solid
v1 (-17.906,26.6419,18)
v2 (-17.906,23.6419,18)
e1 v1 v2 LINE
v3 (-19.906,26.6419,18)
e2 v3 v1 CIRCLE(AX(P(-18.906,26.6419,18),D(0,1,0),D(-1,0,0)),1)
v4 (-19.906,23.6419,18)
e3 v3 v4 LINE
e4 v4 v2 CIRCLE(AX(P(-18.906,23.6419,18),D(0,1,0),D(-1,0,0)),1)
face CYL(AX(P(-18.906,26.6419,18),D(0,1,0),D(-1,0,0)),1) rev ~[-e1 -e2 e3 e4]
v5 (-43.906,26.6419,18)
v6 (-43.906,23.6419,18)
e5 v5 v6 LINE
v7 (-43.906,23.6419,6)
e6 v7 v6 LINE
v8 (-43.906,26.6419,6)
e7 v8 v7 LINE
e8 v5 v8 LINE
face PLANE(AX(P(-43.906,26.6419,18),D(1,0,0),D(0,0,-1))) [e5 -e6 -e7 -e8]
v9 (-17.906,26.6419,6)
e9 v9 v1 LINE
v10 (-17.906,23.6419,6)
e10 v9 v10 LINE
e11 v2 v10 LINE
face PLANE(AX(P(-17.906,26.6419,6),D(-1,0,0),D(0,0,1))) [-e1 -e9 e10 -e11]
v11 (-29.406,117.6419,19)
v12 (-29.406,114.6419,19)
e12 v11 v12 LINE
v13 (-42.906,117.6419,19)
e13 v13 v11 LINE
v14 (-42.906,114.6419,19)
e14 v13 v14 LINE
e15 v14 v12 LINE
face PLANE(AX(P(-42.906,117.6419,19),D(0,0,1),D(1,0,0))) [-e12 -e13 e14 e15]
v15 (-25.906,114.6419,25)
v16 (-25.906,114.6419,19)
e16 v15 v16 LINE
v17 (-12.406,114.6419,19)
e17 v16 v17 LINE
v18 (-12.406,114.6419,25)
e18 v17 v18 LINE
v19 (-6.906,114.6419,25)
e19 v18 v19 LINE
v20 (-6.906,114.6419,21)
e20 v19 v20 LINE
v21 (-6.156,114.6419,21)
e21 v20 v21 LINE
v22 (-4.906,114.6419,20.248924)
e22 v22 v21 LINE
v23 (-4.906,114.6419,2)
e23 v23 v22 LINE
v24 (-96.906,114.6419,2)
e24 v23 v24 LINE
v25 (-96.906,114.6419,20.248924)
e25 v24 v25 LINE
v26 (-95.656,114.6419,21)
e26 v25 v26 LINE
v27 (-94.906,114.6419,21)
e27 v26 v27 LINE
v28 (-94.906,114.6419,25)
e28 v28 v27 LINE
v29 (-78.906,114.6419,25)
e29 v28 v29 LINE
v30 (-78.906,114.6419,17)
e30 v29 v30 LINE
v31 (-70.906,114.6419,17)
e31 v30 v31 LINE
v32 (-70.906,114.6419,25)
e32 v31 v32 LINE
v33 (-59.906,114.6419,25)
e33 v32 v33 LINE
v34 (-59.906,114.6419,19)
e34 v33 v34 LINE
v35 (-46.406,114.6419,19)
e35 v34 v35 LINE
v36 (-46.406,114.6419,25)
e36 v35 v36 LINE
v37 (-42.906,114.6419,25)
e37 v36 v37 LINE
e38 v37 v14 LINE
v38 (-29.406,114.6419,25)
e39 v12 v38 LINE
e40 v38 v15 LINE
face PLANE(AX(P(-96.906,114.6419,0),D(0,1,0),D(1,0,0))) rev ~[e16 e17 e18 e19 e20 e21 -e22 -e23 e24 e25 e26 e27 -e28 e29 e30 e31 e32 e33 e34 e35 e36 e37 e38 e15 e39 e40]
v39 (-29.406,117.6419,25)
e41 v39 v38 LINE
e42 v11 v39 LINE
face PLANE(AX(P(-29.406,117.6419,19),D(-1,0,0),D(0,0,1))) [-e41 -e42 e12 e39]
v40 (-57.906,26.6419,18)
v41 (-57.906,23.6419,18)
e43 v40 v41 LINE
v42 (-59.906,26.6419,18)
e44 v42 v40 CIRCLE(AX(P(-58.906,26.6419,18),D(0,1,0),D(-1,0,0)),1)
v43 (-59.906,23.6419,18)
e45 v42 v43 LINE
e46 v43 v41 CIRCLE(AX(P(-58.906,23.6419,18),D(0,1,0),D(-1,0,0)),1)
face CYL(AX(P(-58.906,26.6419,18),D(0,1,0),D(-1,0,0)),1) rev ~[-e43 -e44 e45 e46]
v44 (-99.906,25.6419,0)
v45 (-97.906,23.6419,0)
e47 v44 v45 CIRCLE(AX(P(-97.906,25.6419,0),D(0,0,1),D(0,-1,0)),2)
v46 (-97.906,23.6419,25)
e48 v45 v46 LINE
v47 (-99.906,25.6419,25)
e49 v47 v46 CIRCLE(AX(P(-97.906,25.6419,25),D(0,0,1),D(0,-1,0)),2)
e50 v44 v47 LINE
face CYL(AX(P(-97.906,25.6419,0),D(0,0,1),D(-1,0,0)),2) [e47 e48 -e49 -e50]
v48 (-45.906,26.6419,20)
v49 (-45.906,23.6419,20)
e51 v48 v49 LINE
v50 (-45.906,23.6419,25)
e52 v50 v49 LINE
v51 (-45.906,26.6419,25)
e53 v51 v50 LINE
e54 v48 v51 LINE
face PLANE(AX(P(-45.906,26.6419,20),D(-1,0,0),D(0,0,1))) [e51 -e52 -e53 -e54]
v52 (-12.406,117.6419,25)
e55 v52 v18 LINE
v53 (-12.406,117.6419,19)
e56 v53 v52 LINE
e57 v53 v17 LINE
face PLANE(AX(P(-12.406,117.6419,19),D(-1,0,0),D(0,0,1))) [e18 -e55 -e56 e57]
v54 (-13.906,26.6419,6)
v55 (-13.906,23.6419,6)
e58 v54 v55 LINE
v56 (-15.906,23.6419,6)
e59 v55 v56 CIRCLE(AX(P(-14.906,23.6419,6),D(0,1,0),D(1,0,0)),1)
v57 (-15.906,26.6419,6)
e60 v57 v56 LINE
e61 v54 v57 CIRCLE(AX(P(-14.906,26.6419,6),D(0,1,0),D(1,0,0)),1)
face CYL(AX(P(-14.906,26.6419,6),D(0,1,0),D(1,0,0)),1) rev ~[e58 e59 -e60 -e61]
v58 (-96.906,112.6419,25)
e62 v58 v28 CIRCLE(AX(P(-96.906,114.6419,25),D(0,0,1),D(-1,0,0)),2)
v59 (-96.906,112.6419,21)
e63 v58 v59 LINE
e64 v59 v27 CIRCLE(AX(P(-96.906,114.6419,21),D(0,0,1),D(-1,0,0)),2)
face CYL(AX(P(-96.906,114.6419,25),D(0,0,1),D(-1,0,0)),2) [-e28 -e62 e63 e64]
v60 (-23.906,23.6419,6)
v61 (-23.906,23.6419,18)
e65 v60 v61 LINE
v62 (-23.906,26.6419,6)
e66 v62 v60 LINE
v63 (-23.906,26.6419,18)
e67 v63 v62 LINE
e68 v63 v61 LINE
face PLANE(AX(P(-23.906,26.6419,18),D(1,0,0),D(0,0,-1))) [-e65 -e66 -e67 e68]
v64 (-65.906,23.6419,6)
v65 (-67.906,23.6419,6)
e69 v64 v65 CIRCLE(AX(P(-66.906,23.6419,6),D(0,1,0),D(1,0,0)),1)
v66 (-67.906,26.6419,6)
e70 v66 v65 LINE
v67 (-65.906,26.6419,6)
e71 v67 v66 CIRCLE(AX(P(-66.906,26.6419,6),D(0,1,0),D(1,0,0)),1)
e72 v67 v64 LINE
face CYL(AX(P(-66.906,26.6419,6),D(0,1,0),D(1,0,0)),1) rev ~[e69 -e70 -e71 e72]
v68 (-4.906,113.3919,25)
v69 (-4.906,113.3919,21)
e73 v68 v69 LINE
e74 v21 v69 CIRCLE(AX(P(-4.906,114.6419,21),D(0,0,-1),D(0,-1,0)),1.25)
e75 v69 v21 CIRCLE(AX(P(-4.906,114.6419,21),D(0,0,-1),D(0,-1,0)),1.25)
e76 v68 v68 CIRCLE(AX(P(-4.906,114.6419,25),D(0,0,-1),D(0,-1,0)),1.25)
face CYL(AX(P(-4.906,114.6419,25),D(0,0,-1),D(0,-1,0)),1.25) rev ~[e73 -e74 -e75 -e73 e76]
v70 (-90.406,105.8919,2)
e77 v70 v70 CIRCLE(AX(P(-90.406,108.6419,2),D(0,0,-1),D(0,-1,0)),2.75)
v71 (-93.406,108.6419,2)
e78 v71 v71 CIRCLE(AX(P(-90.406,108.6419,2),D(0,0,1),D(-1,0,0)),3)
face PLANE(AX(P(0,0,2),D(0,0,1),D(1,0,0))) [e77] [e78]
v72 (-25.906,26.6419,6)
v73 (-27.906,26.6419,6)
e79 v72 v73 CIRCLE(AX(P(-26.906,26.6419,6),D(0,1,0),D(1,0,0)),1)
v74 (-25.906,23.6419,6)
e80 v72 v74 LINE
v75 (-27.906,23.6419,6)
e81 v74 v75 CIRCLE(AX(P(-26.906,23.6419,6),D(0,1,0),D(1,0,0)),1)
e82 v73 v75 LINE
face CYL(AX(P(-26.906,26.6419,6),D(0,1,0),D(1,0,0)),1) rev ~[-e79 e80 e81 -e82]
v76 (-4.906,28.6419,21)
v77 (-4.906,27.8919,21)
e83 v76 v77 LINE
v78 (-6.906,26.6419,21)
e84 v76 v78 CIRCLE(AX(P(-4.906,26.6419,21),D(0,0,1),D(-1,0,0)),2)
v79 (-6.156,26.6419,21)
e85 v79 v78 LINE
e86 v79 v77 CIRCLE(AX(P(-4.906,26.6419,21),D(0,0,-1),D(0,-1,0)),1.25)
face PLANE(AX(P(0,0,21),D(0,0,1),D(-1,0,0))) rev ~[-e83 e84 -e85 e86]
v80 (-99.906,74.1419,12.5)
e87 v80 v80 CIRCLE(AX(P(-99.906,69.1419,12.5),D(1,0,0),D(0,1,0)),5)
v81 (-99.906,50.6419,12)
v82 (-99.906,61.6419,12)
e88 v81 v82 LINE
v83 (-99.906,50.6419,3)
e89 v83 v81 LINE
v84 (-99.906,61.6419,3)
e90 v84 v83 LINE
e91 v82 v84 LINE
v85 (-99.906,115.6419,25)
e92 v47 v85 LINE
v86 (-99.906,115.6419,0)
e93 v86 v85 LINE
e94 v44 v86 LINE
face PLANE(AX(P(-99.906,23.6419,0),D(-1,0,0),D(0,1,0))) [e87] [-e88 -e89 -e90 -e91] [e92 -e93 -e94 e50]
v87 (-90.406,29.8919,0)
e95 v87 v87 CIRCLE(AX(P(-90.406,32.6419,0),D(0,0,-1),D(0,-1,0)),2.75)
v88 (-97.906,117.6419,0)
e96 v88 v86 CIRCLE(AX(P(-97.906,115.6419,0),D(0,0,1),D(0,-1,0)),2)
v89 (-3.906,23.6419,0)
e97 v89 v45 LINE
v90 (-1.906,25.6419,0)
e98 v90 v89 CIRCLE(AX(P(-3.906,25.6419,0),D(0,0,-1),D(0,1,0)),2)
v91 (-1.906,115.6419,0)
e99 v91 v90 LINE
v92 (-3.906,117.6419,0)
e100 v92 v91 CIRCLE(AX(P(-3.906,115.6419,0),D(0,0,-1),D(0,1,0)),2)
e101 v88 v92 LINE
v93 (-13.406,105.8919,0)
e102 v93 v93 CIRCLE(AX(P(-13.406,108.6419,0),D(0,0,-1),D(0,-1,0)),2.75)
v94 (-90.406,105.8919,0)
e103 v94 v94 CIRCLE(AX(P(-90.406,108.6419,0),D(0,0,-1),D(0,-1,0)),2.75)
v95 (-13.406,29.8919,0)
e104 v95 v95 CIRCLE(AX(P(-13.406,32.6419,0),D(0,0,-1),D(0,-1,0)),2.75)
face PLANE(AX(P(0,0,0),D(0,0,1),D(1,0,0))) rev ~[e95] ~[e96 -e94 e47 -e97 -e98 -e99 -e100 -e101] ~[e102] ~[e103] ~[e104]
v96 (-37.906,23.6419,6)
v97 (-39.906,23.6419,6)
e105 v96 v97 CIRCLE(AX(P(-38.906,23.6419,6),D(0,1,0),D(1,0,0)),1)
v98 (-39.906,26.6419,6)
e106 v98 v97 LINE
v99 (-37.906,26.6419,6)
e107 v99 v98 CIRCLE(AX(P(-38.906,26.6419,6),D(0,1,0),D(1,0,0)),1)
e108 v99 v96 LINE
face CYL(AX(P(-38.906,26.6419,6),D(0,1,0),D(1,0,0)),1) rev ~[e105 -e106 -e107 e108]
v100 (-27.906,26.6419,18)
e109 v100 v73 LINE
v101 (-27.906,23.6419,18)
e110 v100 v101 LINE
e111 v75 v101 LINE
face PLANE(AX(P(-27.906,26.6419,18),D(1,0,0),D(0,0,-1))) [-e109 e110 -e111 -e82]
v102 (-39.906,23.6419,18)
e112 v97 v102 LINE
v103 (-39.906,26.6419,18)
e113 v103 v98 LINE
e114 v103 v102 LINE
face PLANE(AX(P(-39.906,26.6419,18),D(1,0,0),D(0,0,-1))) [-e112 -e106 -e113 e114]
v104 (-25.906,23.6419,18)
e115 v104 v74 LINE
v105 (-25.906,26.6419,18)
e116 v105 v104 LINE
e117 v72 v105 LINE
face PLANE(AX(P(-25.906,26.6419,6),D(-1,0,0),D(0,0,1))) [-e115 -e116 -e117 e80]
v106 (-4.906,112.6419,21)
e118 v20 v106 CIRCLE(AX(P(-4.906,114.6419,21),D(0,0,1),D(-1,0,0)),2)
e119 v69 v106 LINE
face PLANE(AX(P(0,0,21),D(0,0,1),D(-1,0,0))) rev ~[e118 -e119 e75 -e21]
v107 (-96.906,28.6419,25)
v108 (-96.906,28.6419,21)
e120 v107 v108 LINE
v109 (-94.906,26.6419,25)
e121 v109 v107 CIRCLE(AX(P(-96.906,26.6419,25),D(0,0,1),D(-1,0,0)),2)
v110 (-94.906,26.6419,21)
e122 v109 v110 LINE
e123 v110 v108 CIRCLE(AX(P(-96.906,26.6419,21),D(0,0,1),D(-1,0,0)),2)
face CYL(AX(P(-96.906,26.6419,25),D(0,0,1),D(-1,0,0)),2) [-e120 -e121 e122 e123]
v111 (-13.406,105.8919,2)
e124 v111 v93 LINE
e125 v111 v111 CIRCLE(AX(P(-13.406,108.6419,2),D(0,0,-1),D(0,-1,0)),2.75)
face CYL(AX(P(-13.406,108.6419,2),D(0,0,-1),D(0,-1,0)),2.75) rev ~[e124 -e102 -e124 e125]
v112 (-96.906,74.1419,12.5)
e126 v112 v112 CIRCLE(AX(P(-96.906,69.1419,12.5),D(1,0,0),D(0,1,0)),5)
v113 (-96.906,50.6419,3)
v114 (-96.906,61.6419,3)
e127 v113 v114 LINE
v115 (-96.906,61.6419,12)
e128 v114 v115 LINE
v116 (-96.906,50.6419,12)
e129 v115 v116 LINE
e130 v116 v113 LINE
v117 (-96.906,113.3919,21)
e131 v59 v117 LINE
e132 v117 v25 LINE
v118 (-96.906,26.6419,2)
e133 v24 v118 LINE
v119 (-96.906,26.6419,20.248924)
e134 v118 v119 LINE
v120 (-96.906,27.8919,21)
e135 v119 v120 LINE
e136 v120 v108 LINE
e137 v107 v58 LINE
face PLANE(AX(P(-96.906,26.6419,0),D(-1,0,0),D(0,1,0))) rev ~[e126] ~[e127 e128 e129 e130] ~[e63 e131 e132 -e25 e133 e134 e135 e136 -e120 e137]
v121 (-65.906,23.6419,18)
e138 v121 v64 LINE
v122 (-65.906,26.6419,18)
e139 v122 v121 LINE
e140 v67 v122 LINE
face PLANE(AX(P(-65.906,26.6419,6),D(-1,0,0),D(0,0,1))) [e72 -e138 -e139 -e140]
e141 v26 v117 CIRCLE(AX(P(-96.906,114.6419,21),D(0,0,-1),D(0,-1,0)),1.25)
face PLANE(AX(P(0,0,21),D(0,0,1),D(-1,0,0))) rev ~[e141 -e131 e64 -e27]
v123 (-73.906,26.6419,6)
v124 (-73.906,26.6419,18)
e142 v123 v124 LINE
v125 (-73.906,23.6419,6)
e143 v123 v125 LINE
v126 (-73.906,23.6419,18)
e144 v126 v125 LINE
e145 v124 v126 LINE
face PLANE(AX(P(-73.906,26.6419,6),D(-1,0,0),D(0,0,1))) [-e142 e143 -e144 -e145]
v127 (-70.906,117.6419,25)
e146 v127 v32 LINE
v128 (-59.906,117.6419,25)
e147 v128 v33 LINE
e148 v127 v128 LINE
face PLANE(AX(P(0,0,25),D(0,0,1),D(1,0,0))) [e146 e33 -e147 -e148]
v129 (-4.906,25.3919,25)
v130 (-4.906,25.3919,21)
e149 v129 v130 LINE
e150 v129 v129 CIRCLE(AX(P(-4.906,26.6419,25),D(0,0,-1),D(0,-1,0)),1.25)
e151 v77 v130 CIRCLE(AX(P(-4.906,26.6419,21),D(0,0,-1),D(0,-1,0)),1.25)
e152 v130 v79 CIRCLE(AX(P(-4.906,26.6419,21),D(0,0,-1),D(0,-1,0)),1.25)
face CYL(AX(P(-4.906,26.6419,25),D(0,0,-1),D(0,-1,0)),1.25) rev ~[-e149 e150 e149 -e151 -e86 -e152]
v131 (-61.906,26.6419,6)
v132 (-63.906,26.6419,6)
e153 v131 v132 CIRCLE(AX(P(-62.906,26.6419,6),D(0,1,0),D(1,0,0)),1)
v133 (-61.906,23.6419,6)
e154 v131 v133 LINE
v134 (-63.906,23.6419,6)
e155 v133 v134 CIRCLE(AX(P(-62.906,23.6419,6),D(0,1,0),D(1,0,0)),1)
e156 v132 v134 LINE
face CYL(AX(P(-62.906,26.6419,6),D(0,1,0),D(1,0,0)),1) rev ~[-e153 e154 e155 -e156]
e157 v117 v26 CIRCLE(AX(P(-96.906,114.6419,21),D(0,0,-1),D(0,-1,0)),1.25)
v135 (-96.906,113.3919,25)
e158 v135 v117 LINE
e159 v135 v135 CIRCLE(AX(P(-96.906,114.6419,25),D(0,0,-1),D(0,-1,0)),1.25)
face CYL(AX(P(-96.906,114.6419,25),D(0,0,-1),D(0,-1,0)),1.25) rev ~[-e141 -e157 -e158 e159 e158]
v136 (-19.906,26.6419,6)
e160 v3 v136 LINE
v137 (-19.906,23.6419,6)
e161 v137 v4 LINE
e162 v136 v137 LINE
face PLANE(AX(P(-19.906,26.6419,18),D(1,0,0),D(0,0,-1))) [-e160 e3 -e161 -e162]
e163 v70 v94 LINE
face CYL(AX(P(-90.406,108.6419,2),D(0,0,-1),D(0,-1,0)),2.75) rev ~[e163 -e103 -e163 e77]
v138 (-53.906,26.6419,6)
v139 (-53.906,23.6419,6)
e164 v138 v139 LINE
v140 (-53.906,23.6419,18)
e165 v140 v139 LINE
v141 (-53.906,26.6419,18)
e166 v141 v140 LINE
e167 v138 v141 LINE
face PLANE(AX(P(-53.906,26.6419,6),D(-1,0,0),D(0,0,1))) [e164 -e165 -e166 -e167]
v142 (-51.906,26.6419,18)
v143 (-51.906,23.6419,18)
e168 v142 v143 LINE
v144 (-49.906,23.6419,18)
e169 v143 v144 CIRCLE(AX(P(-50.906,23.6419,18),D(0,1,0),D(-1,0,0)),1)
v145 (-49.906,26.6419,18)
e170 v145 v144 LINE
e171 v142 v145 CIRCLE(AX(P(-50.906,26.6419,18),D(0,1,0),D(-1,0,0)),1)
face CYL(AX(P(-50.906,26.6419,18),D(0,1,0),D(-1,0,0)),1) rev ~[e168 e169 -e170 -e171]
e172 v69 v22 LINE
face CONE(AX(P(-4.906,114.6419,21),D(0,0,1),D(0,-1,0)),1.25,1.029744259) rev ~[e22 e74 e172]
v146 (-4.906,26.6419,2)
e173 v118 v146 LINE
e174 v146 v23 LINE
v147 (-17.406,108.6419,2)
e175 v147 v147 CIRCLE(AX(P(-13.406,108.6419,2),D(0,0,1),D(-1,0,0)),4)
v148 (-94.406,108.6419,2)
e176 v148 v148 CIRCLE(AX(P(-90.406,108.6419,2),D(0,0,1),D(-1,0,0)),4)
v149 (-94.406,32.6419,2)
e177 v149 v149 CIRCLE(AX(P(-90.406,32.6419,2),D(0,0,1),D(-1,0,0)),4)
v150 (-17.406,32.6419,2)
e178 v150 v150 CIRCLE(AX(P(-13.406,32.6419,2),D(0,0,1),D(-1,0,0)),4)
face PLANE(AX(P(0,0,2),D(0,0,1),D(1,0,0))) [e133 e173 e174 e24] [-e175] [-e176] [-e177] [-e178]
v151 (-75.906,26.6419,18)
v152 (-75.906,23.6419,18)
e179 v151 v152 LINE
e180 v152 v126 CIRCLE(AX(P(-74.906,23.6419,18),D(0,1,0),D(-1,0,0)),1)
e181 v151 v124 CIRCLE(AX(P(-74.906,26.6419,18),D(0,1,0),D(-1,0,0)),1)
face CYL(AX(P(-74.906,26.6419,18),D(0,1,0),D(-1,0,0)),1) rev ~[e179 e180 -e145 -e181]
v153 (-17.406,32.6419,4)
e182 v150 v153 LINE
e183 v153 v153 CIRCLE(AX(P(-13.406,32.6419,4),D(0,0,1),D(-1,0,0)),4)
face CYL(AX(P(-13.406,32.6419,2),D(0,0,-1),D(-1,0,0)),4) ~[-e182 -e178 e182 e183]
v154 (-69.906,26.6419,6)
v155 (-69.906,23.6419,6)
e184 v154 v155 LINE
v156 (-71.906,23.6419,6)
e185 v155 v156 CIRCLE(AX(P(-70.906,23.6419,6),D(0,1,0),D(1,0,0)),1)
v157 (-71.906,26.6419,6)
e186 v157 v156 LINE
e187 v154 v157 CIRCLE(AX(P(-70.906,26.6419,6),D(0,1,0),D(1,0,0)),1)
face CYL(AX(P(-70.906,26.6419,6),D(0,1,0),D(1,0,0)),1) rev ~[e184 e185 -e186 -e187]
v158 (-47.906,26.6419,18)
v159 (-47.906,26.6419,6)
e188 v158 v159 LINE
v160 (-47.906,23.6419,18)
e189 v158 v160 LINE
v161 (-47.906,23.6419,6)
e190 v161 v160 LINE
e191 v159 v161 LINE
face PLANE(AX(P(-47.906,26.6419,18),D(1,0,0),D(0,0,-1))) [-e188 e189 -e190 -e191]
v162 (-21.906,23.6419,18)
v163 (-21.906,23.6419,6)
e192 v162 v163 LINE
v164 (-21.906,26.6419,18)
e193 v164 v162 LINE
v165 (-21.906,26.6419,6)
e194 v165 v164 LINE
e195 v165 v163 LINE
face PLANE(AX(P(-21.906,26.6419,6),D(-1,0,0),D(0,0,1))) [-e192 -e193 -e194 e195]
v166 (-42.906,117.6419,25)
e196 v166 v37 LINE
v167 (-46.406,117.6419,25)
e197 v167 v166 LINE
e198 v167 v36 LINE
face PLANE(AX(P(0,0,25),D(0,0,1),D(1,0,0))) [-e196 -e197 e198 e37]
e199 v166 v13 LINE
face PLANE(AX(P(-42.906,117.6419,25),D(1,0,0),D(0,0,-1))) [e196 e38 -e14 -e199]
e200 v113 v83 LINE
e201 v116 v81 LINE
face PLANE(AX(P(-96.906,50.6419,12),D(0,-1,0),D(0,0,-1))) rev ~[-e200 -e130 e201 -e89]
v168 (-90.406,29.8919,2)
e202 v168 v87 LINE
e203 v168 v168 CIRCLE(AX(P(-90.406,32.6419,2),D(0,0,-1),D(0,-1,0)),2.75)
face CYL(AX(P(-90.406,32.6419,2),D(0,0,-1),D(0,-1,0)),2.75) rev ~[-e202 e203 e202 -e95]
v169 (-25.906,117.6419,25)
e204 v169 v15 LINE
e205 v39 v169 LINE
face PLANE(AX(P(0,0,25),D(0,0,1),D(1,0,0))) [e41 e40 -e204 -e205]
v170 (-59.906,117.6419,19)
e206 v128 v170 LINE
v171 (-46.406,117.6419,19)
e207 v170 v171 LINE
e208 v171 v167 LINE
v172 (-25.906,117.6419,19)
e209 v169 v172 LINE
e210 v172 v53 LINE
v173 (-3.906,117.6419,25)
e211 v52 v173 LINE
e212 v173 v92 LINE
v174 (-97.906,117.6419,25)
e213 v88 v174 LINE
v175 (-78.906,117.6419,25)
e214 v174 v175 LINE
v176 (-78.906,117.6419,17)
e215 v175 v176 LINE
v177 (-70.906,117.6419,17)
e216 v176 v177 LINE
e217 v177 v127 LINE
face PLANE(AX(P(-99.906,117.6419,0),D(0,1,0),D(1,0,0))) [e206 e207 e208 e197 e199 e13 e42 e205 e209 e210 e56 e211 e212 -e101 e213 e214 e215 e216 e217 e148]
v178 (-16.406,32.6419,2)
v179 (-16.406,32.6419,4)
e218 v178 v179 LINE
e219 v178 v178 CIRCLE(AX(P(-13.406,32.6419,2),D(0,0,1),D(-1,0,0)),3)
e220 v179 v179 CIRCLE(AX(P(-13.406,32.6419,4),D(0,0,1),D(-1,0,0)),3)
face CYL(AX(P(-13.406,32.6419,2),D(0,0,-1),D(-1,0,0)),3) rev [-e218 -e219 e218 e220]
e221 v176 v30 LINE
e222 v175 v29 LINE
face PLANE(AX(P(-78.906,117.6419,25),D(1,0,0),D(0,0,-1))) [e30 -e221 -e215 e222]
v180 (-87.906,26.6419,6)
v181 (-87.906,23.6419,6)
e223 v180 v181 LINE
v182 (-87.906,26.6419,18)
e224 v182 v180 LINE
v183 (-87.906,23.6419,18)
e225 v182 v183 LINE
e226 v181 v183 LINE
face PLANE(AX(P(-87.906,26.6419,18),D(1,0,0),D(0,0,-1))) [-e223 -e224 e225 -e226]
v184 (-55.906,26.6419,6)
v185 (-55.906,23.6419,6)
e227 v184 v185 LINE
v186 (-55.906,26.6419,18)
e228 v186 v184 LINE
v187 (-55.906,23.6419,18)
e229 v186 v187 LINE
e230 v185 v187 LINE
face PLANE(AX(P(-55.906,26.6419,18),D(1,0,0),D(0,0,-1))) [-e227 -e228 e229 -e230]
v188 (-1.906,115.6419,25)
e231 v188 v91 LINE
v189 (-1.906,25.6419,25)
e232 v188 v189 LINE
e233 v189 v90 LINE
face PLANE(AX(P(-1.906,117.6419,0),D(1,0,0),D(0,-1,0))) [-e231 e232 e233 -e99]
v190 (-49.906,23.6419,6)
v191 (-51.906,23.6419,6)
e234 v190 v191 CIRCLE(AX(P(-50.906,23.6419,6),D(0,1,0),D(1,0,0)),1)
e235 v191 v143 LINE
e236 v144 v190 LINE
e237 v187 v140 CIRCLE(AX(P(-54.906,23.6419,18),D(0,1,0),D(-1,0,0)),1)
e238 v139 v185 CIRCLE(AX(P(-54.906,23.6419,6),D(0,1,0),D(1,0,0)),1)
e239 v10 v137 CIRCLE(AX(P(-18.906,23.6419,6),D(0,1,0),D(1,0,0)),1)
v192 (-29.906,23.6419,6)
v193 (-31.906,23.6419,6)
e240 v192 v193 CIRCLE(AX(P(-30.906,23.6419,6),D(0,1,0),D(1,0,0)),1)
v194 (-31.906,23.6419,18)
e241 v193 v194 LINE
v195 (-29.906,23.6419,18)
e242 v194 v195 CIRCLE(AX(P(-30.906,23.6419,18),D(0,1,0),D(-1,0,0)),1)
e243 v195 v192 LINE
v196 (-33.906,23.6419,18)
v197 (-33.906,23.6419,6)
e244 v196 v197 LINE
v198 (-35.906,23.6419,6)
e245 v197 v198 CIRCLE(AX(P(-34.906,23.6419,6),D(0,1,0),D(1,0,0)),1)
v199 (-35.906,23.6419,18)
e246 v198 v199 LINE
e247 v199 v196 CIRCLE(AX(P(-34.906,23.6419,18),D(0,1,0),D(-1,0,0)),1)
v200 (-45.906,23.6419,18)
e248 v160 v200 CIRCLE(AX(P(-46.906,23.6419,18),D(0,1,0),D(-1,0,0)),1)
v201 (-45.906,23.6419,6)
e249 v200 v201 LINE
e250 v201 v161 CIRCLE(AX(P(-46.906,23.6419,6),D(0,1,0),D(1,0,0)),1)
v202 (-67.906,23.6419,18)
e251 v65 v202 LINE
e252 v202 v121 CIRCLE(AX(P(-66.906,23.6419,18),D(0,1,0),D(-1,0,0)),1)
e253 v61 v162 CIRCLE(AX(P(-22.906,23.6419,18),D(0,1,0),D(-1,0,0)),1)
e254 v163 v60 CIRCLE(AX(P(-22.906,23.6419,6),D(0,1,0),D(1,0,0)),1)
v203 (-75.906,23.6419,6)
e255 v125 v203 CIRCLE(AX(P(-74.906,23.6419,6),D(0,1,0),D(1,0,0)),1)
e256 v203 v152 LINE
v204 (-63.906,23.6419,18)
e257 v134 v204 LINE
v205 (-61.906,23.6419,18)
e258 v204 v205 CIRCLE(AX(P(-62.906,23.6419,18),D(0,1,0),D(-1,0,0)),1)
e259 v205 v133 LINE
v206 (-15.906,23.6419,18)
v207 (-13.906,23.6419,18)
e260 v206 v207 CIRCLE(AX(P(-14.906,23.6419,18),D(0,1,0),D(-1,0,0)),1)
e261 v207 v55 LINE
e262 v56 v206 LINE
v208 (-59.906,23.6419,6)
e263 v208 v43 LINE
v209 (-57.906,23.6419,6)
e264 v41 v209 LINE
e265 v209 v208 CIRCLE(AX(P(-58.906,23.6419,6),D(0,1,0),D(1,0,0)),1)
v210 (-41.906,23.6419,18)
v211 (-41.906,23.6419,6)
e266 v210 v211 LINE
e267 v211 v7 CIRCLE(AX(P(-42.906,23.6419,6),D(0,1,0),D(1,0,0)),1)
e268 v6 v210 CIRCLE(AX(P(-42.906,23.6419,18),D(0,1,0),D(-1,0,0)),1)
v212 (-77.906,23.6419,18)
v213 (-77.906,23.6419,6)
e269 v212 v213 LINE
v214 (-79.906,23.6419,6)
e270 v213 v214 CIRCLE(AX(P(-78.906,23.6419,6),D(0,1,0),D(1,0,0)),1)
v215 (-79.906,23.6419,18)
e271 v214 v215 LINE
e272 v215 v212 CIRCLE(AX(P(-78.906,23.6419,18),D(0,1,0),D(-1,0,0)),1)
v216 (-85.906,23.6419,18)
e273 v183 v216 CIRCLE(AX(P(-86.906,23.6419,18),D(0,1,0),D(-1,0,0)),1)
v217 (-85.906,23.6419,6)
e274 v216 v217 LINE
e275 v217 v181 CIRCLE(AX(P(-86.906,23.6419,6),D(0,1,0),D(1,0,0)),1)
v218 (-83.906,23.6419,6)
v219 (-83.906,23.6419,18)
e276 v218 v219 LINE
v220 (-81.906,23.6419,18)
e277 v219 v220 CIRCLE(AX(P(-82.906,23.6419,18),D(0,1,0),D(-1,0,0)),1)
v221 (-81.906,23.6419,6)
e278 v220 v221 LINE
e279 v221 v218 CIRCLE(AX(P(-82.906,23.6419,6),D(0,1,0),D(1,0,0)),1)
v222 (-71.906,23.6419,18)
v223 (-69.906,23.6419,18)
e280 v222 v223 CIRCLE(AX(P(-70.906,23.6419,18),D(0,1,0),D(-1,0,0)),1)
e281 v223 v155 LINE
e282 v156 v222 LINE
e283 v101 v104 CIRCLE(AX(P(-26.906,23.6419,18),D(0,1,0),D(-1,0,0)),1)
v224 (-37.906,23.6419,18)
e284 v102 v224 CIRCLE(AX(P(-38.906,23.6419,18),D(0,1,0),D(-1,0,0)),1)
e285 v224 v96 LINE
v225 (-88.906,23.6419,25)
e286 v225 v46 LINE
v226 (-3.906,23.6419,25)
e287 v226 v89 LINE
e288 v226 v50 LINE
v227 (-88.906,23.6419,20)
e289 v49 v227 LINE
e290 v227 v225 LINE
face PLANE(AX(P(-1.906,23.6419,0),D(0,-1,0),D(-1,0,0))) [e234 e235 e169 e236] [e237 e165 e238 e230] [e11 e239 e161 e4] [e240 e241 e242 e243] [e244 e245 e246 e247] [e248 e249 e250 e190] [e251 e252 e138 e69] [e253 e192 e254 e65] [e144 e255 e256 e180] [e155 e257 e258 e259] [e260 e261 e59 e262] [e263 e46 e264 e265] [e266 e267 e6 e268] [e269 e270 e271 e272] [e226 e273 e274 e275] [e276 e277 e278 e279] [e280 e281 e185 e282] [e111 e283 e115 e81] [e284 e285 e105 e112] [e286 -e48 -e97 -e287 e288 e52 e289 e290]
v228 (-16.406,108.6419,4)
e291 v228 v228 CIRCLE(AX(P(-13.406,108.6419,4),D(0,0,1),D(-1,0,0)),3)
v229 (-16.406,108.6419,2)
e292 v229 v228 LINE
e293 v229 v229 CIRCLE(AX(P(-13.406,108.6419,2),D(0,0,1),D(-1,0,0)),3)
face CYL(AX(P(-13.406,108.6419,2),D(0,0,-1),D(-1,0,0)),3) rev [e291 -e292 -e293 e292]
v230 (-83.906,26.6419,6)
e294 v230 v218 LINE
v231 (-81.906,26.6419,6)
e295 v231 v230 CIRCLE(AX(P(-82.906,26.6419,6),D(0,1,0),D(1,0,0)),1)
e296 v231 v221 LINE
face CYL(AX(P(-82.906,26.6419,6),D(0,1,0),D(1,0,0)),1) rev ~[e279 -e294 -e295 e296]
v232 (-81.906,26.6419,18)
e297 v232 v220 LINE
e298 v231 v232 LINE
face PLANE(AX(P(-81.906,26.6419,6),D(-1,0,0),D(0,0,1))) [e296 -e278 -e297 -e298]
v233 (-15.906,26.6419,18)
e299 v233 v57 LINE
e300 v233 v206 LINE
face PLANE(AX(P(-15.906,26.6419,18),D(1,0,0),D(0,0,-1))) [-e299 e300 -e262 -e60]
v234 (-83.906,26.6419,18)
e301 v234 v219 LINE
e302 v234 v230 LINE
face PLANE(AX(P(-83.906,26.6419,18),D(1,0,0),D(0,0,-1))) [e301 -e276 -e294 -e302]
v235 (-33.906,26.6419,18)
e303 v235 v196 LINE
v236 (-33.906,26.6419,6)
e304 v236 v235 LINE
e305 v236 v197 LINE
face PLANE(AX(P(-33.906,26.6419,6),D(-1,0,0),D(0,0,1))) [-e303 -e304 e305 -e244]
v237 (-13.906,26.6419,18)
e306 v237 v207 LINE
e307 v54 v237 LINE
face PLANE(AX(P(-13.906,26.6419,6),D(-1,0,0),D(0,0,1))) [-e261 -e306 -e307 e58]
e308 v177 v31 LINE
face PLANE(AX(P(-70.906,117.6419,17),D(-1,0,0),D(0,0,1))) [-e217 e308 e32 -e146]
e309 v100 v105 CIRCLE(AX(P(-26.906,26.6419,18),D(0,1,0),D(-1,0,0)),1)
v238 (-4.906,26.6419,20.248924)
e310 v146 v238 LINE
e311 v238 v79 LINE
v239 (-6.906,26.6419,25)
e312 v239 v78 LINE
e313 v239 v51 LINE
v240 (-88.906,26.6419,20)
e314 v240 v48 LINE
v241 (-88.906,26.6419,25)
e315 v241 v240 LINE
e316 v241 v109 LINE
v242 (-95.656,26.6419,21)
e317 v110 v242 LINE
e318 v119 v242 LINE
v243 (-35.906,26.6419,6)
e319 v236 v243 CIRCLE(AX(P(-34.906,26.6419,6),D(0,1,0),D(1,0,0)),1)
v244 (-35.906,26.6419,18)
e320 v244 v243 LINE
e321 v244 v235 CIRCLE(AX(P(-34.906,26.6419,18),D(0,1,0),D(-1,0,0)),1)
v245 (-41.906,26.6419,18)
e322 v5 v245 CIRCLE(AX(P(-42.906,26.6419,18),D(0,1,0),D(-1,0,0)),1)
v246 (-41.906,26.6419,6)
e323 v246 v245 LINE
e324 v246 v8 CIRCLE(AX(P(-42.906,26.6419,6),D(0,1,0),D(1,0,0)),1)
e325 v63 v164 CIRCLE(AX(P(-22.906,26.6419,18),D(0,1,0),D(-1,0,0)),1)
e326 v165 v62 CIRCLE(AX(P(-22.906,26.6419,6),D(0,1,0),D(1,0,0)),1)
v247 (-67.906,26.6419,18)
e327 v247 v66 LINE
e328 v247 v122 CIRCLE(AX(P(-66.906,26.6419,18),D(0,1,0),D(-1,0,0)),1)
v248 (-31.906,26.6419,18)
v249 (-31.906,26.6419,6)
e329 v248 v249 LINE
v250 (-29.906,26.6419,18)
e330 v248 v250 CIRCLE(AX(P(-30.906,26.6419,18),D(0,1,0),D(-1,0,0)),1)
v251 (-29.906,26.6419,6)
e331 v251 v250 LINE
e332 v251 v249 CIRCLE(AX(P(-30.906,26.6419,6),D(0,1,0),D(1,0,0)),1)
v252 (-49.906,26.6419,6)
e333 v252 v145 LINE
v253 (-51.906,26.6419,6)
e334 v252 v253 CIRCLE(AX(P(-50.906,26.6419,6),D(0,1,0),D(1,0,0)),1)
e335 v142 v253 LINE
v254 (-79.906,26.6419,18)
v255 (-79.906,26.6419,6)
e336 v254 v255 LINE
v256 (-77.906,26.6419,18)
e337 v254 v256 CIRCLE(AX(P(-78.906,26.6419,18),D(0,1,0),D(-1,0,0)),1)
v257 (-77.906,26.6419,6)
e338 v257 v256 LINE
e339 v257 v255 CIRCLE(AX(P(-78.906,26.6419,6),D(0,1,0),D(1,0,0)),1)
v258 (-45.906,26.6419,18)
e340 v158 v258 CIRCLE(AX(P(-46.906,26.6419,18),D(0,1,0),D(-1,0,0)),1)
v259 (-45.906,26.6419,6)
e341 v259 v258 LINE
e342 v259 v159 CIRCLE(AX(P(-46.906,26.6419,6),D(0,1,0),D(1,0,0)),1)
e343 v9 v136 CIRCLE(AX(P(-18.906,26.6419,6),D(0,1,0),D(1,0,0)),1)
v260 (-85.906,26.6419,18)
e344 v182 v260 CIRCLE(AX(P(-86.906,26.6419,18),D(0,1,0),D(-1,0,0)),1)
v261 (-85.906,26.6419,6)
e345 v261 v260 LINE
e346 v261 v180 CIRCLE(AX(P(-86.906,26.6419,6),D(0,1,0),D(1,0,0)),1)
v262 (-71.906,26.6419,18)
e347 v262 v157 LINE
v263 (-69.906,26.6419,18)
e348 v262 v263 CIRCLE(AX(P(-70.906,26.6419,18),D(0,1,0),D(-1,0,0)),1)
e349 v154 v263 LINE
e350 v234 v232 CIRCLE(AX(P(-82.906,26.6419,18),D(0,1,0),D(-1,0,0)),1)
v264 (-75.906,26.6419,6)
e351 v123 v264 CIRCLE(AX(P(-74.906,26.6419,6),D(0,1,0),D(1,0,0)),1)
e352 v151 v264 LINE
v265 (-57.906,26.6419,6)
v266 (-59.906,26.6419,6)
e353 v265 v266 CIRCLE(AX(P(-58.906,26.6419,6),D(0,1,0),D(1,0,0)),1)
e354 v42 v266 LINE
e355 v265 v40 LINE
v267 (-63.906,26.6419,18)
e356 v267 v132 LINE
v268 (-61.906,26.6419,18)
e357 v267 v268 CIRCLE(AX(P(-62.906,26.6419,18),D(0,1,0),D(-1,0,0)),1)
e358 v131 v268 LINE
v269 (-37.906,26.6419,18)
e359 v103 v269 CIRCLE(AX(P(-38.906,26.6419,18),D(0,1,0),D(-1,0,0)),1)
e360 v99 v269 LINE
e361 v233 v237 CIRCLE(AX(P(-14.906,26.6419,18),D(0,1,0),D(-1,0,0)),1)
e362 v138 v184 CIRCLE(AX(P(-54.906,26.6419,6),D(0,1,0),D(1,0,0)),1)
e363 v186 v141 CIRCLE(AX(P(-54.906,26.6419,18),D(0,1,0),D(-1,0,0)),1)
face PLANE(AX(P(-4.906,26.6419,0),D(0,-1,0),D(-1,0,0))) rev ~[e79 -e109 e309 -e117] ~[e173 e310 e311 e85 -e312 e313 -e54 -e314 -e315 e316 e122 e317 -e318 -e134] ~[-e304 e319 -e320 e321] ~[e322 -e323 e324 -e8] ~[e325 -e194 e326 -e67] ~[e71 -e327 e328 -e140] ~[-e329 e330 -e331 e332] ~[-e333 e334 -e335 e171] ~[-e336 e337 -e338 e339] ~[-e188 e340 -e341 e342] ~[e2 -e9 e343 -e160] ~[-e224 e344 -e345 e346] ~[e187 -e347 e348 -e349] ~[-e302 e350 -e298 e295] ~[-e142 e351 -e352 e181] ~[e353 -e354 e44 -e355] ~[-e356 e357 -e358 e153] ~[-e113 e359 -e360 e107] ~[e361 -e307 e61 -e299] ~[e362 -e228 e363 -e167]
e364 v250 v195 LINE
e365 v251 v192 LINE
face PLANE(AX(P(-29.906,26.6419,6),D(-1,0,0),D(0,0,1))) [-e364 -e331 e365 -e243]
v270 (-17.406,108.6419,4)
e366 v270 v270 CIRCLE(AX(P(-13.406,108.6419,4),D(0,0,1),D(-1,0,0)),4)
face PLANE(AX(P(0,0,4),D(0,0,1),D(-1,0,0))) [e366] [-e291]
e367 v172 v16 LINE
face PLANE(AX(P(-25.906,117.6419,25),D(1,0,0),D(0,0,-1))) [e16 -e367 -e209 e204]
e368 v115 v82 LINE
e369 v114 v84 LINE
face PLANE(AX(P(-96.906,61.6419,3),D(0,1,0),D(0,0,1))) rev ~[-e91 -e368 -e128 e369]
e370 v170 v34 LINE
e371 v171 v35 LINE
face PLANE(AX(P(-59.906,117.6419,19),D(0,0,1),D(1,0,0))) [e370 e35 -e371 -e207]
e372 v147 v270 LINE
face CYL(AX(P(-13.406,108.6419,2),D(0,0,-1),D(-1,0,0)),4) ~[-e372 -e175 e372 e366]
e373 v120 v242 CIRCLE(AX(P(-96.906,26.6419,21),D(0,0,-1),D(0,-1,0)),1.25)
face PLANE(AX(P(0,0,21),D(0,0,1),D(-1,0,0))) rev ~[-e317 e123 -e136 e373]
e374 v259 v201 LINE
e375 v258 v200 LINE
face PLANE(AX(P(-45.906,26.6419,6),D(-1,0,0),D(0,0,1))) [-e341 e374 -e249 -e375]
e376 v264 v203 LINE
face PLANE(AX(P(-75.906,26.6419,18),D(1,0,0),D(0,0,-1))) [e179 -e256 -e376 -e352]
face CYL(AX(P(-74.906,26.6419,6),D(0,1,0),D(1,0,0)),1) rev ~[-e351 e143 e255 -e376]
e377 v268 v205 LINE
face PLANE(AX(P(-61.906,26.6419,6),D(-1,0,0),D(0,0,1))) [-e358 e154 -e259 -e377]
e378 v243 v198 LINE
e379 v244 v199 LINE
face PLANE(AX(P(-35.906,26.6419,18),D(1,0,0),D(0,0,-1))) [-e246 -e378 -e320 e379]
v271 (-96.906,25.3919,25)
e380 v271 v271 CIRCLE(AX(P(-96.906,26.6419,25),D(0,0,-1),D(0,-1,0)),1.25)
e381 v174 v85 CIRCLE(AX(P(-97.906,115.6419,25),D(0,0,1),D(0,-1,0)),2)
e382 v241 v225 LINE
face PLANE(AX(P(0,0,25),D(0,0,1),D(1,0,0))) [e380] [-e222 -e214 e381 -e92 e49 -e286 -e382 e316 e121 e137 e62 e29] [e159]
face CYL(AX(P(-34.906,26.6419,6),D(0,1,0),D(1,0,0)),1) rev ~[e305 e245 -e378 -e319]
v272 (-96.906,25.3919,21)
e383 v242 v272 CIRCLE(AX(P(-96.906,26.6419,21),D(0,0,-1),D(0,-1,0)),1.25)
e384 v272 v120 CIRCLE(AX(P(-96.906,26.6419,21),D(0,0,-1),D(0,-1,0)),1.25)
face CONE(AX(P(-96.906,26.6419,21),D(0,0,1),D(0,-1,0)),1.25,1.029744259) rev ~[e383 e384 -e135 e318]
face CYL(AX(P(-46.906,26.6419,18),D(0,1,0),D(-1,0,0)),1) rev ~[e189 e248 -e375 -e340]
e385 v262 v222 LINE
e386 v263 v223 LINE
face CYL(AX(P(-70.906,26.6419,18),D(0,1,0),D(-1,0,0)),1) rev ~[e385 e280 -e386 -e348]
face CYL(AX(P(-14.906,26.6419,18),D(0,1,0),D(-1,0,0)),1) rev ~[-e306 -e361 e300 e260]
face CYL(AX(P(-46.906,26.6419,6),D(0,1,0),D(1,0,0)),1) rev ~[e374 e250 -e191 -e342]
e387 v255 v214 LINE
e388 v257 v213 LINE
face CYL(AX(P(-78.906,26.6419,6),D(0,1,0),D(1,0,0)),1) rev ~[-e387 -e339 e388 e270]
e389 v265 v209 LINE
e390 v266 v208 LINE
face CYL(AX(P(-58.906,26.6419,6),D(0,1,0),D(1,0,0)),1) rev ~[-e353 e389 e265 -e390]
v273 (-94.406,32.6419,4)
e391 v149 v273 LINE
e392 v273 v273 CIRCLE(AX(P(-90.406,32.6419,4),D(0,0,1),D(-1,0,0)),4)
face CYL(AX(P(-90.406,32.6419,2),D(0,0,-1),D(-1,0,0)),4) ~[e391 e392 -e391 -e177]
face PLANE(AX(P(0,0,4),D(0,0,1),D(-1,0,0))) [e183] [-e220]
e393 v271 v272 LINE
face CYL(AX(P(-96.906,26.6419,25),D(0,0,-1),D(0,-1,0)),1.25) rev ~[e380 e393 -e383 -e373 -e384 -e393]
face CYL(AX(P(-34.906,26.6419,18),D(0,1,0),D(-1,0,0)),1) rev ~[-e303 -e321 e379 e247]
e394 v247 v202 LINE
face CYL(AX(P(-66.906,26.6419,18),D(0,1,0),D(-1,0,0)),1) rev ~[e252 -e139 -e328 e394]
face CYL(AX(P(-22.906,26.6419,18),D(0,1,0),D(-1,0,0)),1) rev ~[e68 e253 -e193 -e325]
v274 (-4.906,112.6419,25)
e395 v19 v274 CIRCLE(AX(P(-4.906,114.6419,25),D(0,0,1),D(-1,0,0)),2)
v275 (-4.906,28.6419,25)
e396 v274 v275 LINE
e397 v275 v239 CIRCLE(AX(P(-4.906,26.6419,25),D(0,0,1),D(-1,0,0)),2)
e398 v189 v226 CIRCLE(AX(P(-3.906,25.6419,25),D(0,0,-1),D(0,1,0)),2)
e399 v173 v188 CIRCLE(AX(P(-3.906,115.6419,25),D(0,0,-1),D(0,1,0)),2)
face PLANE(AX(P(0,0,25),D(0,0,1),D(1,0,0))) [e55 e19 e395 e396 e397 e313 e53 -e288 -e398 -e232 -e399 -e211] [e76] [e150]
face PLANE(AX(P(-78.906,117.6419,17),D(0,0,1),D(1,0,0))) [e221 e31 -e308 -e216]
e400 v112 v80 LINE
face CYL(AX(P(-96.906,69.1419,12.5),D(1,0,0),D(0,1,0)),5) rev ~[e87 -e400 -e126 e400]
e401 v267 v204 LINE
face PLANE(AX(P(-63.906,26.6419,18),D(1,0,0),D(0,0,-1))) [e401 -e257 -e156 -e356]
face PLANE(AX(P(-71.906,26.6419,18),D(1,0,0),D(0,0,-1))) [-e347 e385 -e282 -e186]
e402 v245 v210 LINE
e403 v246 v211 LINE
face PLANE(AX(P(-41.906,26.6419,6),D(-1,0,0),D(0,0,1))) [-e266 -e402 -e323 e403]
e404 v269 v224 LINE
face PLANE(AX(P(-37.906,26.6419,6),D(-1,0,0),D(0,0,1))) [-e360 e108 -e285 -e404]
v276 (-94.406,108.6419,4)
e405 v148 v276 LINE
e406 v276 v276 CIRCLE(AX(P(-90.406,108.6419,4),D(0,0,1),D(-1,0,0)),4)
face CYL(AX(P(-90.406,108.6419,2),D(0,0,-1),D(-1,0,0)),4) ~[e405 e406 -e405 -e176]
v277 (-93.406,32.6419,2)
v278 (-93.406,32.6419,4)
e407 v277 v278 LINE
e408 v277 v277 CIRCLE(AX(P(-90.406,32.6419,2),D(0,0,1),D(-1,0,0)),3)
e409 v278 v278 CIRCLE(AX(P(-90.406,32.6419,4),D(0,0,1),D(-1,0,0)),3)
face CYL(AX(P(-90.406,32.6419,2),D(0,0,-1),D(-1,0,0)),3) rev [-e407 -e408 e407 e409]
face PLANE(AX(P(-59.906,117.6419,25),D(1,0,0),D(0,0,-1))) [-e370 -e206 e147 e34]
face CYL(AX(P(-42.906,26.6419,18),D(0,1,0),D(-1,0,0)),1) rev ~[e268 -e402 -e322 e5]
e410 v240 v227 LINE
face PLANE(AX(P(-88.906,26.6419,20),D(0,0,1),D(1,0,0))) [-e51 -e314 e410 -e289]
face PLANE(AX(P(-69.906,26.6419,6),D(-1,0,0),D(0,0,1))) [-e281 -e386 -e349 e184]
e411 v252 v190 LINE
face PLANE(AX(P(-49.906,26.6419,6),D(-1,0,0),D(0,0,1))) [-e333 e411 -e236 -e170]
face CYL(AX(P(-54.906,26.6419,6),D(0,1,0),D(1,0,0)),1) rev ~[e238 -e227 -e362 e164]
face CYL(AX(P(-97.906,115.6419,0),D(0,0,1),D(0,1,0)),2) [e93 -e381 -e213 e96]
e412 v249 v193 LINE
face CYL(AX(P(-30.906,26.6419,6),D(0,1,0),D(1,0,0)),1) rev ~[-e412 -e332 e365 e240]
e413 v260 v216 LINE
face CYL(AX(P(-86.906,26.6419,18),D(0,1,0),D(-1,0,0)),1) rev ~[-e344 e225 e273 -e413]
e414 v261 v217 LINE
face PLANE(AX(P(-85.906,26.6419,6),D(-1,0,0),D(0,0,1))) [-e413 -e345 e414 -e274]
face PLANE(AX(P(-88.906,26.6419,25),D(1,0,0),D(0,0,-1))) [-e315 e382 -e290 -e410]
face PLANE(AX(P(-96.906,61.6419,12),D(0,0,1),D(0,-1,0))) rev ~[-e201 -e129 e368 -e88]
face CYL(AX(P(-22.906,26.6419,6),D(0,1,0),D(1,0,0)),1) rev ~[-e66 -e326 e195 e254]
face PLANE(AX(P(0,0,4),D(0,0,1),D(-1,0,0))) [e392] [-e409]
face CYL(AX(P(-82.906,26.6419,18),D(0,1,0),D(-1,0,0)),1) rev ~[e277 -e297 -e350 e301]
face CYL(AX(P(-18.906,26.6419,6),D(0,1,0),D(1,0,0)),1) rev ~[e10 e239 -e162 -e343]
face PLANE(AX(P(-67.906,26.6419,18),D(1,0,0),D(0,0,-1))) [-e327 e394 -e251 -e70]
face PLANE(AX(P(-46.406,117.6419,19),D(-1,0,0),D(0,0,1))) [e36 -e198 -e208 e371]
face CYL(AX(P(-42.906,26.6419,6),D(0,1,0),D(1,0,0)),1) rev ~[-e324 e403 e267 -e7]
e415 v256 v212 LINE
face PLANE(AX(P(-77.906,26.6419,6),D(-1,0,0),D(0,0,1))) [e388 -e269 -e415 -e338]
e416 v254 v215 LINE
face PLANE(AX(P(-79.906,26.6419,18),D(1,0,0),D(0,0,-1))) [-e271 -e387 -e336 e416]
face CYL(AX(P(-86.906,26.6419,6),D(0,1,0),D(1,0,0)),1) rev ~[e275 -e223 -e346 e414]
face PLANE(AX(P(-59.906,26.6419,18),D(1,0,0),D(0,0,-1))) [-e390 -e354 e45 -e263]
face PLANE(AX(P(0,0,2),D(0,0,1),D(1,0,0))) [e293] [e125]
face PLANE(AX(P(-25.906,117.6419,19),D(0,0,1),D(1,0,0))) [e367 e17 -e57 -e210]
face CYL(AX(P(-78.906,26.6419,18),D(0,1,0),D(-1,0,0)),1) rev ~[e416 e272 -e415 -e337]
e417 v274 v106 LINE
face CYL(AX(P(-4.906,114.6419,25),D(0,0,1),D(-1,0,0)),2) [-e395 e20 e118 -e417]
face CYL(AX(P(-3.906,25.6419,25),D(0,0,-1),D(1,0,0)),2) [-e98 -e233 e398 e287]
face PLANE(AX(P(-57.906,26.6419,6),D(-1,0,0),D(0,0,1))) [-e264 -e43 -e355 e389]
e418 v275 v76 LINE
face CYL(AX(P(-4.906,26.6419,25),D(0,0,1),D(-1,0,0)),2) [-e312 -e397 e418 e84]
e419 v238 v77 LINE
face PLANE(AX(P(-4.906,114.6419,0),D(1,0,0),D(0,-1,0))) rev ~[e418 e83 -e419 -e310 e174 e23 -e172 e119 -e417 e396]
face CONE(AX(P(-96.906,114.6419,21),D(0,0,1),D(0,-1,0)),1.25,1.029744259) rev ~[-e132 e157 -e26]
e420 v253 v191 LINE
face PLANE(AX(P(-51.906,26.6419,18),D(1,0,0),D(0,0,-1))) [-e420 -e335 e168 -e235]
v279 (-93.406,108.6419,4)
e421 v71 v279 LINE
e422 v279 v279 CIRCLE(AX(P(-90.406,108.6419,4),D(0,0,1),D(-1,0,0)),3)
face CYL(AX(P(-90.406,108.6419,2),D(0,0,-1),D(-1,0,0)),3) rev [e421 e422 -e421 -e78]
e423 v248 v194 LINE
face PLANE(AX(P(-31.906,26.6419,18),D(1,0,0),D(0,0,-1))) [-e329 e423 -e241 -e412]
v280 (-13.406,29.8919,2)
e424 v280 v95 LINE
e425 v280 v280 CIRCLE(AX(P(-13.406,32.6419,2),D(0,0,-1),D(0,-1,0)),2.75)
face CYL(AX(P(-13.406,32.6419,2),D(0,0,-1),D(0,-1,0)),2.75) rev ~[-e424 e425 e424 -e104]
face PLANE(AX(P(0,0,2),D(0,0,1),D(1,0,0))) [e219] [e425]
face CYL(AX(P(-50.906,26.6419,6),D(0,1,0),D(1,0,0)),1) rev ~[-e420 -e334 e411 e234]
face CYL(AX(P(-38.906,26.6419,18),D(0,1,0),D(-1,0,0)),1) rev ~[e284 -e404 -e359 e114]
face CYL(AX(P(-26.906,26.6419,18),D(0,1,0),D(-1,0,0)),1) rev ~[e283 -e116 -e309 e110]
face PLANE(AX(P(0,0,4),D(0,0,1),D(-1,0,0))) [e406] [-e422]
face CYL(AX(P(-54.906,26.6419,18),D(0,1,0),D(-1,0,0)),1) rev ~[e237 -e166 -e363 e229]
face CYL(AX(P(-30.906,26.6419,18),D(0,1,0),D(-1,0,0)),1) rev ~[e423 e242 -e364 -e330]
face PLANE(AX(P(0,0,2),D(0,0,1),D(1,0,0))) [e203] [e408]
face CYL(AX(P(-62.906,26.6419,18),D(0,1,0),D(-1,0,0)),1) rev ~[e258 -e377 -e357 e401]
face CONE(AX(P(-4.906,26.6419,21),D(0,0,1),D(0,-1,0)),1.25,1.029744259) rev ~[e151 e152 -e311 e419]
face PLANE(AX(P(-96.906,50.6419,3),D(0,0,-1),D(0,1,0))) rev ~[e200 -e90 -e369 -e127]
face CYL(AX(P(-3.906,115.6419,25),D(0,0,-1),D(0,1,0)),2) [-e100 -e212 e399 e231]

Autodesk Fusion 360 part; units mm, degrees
sketch "Sketch1" plane through (0, 0, 0) normal (0, 0, 1) x (1, 0, 0)
  line L0 (-99.906, 117.6419) -> (-1.906, 117.6419)
  line L1 (-1.906, 117.6419) -> (-1.906, 23.6419)
  line L2 (-1.906, 23.6419) -> (-99.906, 23.6419)
  line L3 (-99.906, 23.6419) -> (-99.906, 117.6419)
  line L4 (-96.906, 114.6419) -> (-4.906, 114.6419)
  line L5 (-4.906, 114.6419) -> (-4.906, 26.6419)
  line L6 (-4.906, 26.6419) -> (-96.906, 26.6419)
  line L7 (-96.906, 26.6419) -> (-96.906, 114.6419)
  dimension "d1" = 98
  dimension "d2" = 94
  dimension "d3" = 92
  dimension "d4" = 88
  dimension "d5" = 3
  dimension "d6" = 3
extrude "Extrude1" add sketch "Sketch1" along normal blind 2 contours L0 L1 L2 L3 | L4 L5 L6 L7 makes body 1
sketch "Sketch2" plane through (0, 0, 2) normal (0, 0, 1) x (-1, 0, 0)
  line L0 (99.906, -23.6419) -> (1.906, -23.6419)
  line L1 (1.906, -23.6419) -> (1.906, -117.6419)
  line L2 (1.906, -117.6419) -> (99.906, -117.6419)
  line L3 (99.906, -117.6419) -> (99.906, -23.6419)
  line L4 (90.406, -108.6419) -> (13.406, -108.6419) construction
  line L5 (13.406, -108.6419) -> (13.406, -32.6419) construction
  line L6 (13.406, -32.6419) -> (90.406, -32.6419) construction
  line L7 (90.406, -32.6419) -> (90.406, -108.6419) construction
  circle A0 centre (90.406, -108.6419) radius 4
  circle A1 centre (13.406, -108.6419) radius 4
  circle A2 centre (13.406, -32.6419) radius 4
  circle A3 centre (90.406, -32.6419) radius 4
  circle A4 centre (90.406, -108.6419) radius 3
  circle A5 centre (13.406, -108.6419) radius 3
  circle A6 centre (13.406, -32.6419) radius 3
  circle A7 centre (90.406, -32.6419) radius 3
  dimension "d9" = 77
  dimension "d10" = 76
  dimension "d11" = 11.5
  dimension "d12" = 9
  dimension "d13" = 8
  dimension "d14" = 8
  dimension "d15" = 8
  dimension "d16" = 8
  dimension "d20" = 6
  dimension "d21" = 6
  dimension "d22" = 6
  dimension "d23" = 6
hole "Hole1" at (-90.406, 32.6419, 2) at (-90.406, 108.6419, 2) at (-13.406, 108.6419, 2) at (-13.406, 32.6419, 2) direction (0, 0, -1) diameter 5.5 depth 3 tip angle 118 bodies 1
extrude "Extrude2" add sketch "Sketch2" along normal blind 2 contours A0 | A1 | A2 | A3 bodies 1
extrude "Extrude3" add sketch "Sketch1" along normal blind 25 bodies 1
sketch "Sketch3" plane through (-96.906, 0, 0) normal (1, 0, 0) x (0, 1, 0)
  line L0 (26.6419, 2) -> (114.6419, 2)
  line L1 (114.6419, 2) -> (114.6419, 25)
  line L2 (114.6419, 25) -> (26.6419, 25)
  line L3 (26.6419, 25) -> (26.6419, 2)
  line L4 (50.6419, 3) -> (61.6419, 3)
  line L5 (61.6419, 3) -> (61.6419, 12)
  line L6 (61.6419, 12) -> (50.6419, 12)
  line L7 (50.6419, 12) -> (50.6419, 3)
  circle A0 centre (69.1419, 12.5) radius 5
  dimension "d30" = 11
  dimension "d31" = 9
  dimension "d32" = 1
  dimension "d35" = 53
  dimension "d52" = 10
  dimension "d53" = 10.5
  dimension "d54" = 45.5
extrude "Extrude4" cut sketch "Sketch3" against normal blind 4 contours L4 L5 L6 L7 | A0 bodies 1
sketch "Sketch4" plane through (0, 26.6419, 0) normal (0, 1, 0) x (-1, 0, 0)
  line L0 (4.906, 2) -> (96.906, 2)
  line L1 (96.906, 2) -> (96.906, 25)
  line L2 (96.906, 25) -> (4.906, 25)
  line L3 (4.906, 25) -> (4.906, 2)
  line L4 (13.906, 6) -> (13.906, 18)
  arc A0 (15.906, 18) -> (13.906, 18) centre (14.906, 18) ccw
  line L5 (15.906, 18) -> (15.906, 6)
  arc A1 (13.906, 6) -> (15.906, 6) centre (14.906, 6) ccw
  arc A2 (19.906, 18) -> (17.906, 18) centre (18.906, 18) ccw
  arc A3 (17.906, 6) -> (19.906, 6) centre (18.906, 6) ccw
  line L6 (17.906, 6) -> (17.906, 18)
  line L7 (19.906, 18) -> (19.906, 6)
  arc A4 (23.906, 18) -> (21.906, 18) centre (22.906, 18) ccw
  arc A5 (21.906, 6) -> (23.906, 6) centre (22.906, 6) ccw
  line L8 (21.906, 6) -> (21.906, 18)
  line L9 (23.906, 18) -> (23.906, 6)
  arc A6 (27.906, 18) -> (25.906, 18) centre (26.906, 18) ccw
  arc A7 (25.906, 6) -> (27.906, 6) centre (26.906, 6) ccw
  line L10 (25.906, 6) -> (25.906, 18)
  line L11 (27.906, 18) -> (27.906, 6)
  arc A8 (31.906, 18) -> (29.906, 18) centre (30.906, 18) ccw
  arc A9 (29.906, 6) -> (31.906, 6) centre (30.906, 6) ccw
  line L12 (29.906, 6) -> (29.906, 18)
  line L13 (31.906, 18) -> (31.906, 6)
  arc A10 (35.906, 18) -> (33.906, 18) centre (34.906, 18) ccw
  arc A11 (33.906, 6) -> (35.906, 6) centre (34.906, 6) ccw
  line L14 (33.906, 6) -> (33.906, 18)
  line L15 (35.906, 18) -> (35.906, 6)
  arc A12 (39.906, 18) -> (37.906, 18) centre (38.906, 18) ccw
  arc A13 (37.906, 6) -> (39.906, 6) centre (38.906, 6) ccw
  line L16 (37.906, 6) -> (37.906, 18)
  line L17 (39.906, 18) -> (39.906, 6)
  arc A14 (43.906, 18) -> (41.906, 18) centre (42.906, 18) ccw
  arc A15 (41.906, 6) -> (43.906, 6) centre (42.906, 6) ccw
  line L18 (41.906, 6) -> (41.906, 18)
  line L19 (43.906, 18) -> (43.906, 6)
  arc A16 (47.906, 18) -> (45.906, 18) centre (46.906, 18) ccw
  arc A17 (45.906, 6) -> (47.906, 6) centre (46.906, 6) ccw
  line L20 (45.906, 6) -> (45.906, 18)
  line L21 (47.906, 18) -> (47.906, 6)
  arc A18 (51.906, 18) -> (49.906, 18) centre (50.906, 18) ccw
  arc A19 (49.906, 6) -> (51.906, 6) centre (50.906, 6) ccw
  line L22 (49.906, 6) -> (49.906, 18)
  line L23 (51.906, 18) -> (51.906, 6)
  arc A20 (55.906, 18) -> (53.906, 18) centre (54.906, 18) ccw
  arc A21 (53.906, 6) -> (55.906, 6) centre (54.906, 6) ccw
  line L24 (53.906, 6) -> (53.906, 18)
  line L25 (55.906, 18) -> (55.906, 6)
  arc A22 (59.906, 18) -> (57.906, 18) centre (58.906, 18) ccw
  arc A23 (57.906, 6) -> (59.906, 6) centre (58.906, 6) ccw
  line L26 (57.906, 6) -> (57.906, 18)
  line L27 (59.906, 18) -> (59.906, 6)
  arc A24 (63.906, 18) -> (61.906, 18) centre (62.906, 18) ccw
  arc A25 (61.906, 6) -> (63.906, 6) centre (62.906, 6) ccw
  line L28 (61.906, 6) -> (61.906, 18)
  line L29 (63.906, 18) -> (63.906, 6)
  arc A26 (67.906, 18) -> (65.906, 18) centre (66.906, 18) ccw
  arc A27 (65.906, 6) -> (67.906, 6) centre (66.906, 6) ccw
  line L30 (65.906, 6) -> (65.906, 18)
  line L31 (67.906, 18) -> (67.906, 6)
  arc A28 (71.906, 18) -> (69.906, 18) centre (70.906, 18) ccw
  arc A29 (69.906, 6) -> (71.906, 6) centre (70.906, 6) ccw
  line L32 (69.906, 6) -> (69.906, 18)
  line L33 (71.906, 18) -> (71.906, 6)
  arc A30 (75.906, 18) -> (73.906, 18) centre (74.906, 18) ccw
  arc A31 (73.906, 6) -> (75.906, 6) centre (74.906, 6) ccw
  line L34 (73.906, 6) -> (73.906, 18)
  line L35 (75.906, 18) -> (75.906, 6)
  arc A32 (79.906, 18) -> (77.906, 18) centre (78.906, 18) ccw
  arc A33 (77.906, 6) -> (79.906, 6) centre (78.906, 6) ccw
  line L36 (77.906, 6) -> (77.906, 18)
  line L37 (79.906, 18) -> (79.906, 6)
  arc A34 (83.906, 18) -> (81.906, 18) centre (82.906, 18) ccw
  arc A35 (81.906, 6) -> (83.906, 6) centre (82.906, 6) ccw
  line L38 (81.906, 6) -> (81.906, 18)
  line L39 (83.906, 18) -> (83.906, 6)
  arc A36 (87.906, 18) -> (85.906, 18) centre (86.906, 18) ccw
  arc A37 (85.906, 6) -> (87.906, 6) centre (86.906, 6) ccw
  line L40 (85.906, 6) -> (85.906, 18)
  line L41 (87.906, 18) -> (87.906, 6)
  line L42 (45.906, 25) -> (88.906, 25)
  line L43 (88.906, 25) -> (88.906, 20)
  line L44 (88.906, 20) -> (45.906, 20)
  line L45 (45.906, 20) -> (45.906, 25)
  line L46 (1.906, 0) -> (99.906, 0)
  dimension "d42" = 2
  dimension "d43" = 12
  dimension "d44" = 9
  dimension "d47" = 4
  dimension "d48" = 0
  dimension "d77" = 43
  dimension "d78" = 5
  dimension "d80" = 4
  dimension "d82" = 8
extrude "Extrude6" cut sketch "Sketch4" against normal blind 10 contours L2 L42 L43 L44 L45 | L4 A0 L5 A1 | A2 A3 L6 L7 | A4 A5 L8 L9 | A6 A7 L10 L11 | A8 A9 L12 L13 | A10 A11 L14 L15 | A12 A13 L16 L17 | A14 A15 L18 L19 | A16 A17 L20 L21 | A18 A19 L22 L23 | A20 A21 L24 L25 | A22 A23 L26 L27 | A24 A25 L28 L29 | A26 A27 L30 L31 | A28 A29 L32 L33 | A30 A31 L34 L35 | A32 A33 L36 L37 | A34 A35 L38 L39 | A36 A37 L40 L41 bodies 1
fillet "Fillet1" radius 2 4 edges at (-99.906, 23.6419, 12.5) (-99.906, 117.6419, 12.5) (-1.906, 23.6419, 12.5) (-1.906, 117.6419, 12.5) on bodies 1
sketch "Sketch5" plane through (0, 0, 25) normal (0, 0, 1) x (-1, 0, 0)
  line L0 (4.906, -26.6419) -> (96.906, -26.6419)
  line L1 (96.906, -26.6419) -> (96.906, -114.6419)
  line L2 (96.906, -114.6419) -> (4.906, -114.6419)
  line L3 (4.906, -114.6419) -> (4.906, -26.6419)
  arc A0 (1.906, -115.6419) -> (3.906, -117.6419) centre (3.906, -115.6419) ccw
  line L4 (3.906, -117.6419) -> (97.906, -117.6419)
  arc A1 (97.906, -117.6419) -> (99.906, -115.6419) centre (97.906, -115.6419) ccw
  line L5 (99.906, -115.6419) -> (99.906, -25.6419)
  arc A2 (99.906, -25.6419) -> (97.906, -23.6419) centre (97.906, -25.6419) ccw
  line L6 (97.906, -23.6419) -> (88.906, -23.6419)
  arc A3 (3.906, -23.6419) -> (1.906, -25.6419) centre (3.906, -25.6419) ccw
  line L7 (1.906, -25.6419) -> (1.906, -115.6419)
  circle A4 centre (4.906, -114.6419) radius 2
  circle A5 centre (96.906, -114.6419) radius 2
  circle A6 centre (96.906, -26.6419) radius 2
  circle A7 centre (4.906, -26.6419) radius 2
  line L8 (88.906, -23.6419) -> (88.906, -26.6419)
  line L9 (4.906, -26.6419) -> (45.906, -26.6419)
  line L10 (45.906, -26.6419) -> (45.906, -23.6419)
  line L11 (45.906, -23.6419) -> (3.906, -23.6419)
  dimension "d61" = 4
  dimension "d62" = 4
  dimension "d63" = 4
  dimension "d64" = 4
extrude "Extrude7" add sketch "Sketch5" against normal blind 4 contours L0 L3 A7 L9 | L2 L3 A4 | L0 L1 A6 | L1 L2 A5 picked at (6.1521, -27.1067) picked at (6.2326, -114.5471) picked at (95.9656, -27.5823) picked at (95.5795, -114.5471) bodies 1
hole "Hole2" at (-96.906, 26.6419, 25) at (-96.906, 114.6419, 25) at (-4.906, 26.6419, 25) at (-4.906, 114.6419, 25) direction (0, 0, -1) diameter 2.5 depth 4 tip angle 118 bodies 1
copy_body "Body->Comp1" bodies 1 removing the originals makes body 2 in component "Component"
sketch "Sketch6" plane through (0, 117.6419, 0) normal (0, 1, 0) x (-1, 0, 0)
  line L0 (3.906, 25) -> (3.906, 0)
  line L1 (3.906, 0) -> (97.906, 0)
  line L2 (97.906, 0) -> (97.906, 25)
  line L3 (97.906, 25) -> (3.906, 25)
  line L4 (12.406, 25) -> (25.906, 25)
  line L5 (25.906, 25) -> (25.906, 19)
  line L6 (25.906, 19) -> (12.406, 19)
  line L7 (12.406, 19) -> (12.406, 25)
  line L8 (1.906, 25) -> (1.906, 0)
  line L9 (42.906, 25) -> (42.906, 19)
  line L10 (42.906, 19) -> (29.406, 19)
  line L11 (29.406, 19) -> (29.406, 25)
  line L12 (29.406, 25) -> (42.906, 25)
  line L13 (59.906, 25) -> (59.906, 19)
  line L14 (59.906, 19) -> (46.406, 19)
  line L15 (46.406, 19) -> (46.406, 25)
  line L16 (46.406, 25) -> (59.906, 25)
  line L17 (70.906, 25) -> (78.906, 25)
  line L18 (78.906, 25) -> (78.906, 17)
  line L19 (78.906, 17) -> (70.906, 17)
  line L20 (70.906, 17) -> (70.906, 25)
  line L21 (99.906, 0) -> (99.906, 25)
  dimension "d65" = 13.5
  dimension "d66" = 6
  dimension "d67" = 10.5
  dimension "d70" = 17
  dimension "d71" = 0
  dimension "d72" = 8
  dimension "d73" = 8
  dimension "d74" = 21
extrude "Extrude1'" cut sketch "Sketch6" against normal blind 6 contours L3 L4 L5 L6 L7 | L3 L9 L10 L11 L12 | L3 L17 L18 L19 L20 | L3 L13 L14 L15 L16 bodies 2 in component "Component"
component "Component" placed x (1, 0, 0) y (0, 1, 0) z (0, 0, 1) at (0, 0, 0)
